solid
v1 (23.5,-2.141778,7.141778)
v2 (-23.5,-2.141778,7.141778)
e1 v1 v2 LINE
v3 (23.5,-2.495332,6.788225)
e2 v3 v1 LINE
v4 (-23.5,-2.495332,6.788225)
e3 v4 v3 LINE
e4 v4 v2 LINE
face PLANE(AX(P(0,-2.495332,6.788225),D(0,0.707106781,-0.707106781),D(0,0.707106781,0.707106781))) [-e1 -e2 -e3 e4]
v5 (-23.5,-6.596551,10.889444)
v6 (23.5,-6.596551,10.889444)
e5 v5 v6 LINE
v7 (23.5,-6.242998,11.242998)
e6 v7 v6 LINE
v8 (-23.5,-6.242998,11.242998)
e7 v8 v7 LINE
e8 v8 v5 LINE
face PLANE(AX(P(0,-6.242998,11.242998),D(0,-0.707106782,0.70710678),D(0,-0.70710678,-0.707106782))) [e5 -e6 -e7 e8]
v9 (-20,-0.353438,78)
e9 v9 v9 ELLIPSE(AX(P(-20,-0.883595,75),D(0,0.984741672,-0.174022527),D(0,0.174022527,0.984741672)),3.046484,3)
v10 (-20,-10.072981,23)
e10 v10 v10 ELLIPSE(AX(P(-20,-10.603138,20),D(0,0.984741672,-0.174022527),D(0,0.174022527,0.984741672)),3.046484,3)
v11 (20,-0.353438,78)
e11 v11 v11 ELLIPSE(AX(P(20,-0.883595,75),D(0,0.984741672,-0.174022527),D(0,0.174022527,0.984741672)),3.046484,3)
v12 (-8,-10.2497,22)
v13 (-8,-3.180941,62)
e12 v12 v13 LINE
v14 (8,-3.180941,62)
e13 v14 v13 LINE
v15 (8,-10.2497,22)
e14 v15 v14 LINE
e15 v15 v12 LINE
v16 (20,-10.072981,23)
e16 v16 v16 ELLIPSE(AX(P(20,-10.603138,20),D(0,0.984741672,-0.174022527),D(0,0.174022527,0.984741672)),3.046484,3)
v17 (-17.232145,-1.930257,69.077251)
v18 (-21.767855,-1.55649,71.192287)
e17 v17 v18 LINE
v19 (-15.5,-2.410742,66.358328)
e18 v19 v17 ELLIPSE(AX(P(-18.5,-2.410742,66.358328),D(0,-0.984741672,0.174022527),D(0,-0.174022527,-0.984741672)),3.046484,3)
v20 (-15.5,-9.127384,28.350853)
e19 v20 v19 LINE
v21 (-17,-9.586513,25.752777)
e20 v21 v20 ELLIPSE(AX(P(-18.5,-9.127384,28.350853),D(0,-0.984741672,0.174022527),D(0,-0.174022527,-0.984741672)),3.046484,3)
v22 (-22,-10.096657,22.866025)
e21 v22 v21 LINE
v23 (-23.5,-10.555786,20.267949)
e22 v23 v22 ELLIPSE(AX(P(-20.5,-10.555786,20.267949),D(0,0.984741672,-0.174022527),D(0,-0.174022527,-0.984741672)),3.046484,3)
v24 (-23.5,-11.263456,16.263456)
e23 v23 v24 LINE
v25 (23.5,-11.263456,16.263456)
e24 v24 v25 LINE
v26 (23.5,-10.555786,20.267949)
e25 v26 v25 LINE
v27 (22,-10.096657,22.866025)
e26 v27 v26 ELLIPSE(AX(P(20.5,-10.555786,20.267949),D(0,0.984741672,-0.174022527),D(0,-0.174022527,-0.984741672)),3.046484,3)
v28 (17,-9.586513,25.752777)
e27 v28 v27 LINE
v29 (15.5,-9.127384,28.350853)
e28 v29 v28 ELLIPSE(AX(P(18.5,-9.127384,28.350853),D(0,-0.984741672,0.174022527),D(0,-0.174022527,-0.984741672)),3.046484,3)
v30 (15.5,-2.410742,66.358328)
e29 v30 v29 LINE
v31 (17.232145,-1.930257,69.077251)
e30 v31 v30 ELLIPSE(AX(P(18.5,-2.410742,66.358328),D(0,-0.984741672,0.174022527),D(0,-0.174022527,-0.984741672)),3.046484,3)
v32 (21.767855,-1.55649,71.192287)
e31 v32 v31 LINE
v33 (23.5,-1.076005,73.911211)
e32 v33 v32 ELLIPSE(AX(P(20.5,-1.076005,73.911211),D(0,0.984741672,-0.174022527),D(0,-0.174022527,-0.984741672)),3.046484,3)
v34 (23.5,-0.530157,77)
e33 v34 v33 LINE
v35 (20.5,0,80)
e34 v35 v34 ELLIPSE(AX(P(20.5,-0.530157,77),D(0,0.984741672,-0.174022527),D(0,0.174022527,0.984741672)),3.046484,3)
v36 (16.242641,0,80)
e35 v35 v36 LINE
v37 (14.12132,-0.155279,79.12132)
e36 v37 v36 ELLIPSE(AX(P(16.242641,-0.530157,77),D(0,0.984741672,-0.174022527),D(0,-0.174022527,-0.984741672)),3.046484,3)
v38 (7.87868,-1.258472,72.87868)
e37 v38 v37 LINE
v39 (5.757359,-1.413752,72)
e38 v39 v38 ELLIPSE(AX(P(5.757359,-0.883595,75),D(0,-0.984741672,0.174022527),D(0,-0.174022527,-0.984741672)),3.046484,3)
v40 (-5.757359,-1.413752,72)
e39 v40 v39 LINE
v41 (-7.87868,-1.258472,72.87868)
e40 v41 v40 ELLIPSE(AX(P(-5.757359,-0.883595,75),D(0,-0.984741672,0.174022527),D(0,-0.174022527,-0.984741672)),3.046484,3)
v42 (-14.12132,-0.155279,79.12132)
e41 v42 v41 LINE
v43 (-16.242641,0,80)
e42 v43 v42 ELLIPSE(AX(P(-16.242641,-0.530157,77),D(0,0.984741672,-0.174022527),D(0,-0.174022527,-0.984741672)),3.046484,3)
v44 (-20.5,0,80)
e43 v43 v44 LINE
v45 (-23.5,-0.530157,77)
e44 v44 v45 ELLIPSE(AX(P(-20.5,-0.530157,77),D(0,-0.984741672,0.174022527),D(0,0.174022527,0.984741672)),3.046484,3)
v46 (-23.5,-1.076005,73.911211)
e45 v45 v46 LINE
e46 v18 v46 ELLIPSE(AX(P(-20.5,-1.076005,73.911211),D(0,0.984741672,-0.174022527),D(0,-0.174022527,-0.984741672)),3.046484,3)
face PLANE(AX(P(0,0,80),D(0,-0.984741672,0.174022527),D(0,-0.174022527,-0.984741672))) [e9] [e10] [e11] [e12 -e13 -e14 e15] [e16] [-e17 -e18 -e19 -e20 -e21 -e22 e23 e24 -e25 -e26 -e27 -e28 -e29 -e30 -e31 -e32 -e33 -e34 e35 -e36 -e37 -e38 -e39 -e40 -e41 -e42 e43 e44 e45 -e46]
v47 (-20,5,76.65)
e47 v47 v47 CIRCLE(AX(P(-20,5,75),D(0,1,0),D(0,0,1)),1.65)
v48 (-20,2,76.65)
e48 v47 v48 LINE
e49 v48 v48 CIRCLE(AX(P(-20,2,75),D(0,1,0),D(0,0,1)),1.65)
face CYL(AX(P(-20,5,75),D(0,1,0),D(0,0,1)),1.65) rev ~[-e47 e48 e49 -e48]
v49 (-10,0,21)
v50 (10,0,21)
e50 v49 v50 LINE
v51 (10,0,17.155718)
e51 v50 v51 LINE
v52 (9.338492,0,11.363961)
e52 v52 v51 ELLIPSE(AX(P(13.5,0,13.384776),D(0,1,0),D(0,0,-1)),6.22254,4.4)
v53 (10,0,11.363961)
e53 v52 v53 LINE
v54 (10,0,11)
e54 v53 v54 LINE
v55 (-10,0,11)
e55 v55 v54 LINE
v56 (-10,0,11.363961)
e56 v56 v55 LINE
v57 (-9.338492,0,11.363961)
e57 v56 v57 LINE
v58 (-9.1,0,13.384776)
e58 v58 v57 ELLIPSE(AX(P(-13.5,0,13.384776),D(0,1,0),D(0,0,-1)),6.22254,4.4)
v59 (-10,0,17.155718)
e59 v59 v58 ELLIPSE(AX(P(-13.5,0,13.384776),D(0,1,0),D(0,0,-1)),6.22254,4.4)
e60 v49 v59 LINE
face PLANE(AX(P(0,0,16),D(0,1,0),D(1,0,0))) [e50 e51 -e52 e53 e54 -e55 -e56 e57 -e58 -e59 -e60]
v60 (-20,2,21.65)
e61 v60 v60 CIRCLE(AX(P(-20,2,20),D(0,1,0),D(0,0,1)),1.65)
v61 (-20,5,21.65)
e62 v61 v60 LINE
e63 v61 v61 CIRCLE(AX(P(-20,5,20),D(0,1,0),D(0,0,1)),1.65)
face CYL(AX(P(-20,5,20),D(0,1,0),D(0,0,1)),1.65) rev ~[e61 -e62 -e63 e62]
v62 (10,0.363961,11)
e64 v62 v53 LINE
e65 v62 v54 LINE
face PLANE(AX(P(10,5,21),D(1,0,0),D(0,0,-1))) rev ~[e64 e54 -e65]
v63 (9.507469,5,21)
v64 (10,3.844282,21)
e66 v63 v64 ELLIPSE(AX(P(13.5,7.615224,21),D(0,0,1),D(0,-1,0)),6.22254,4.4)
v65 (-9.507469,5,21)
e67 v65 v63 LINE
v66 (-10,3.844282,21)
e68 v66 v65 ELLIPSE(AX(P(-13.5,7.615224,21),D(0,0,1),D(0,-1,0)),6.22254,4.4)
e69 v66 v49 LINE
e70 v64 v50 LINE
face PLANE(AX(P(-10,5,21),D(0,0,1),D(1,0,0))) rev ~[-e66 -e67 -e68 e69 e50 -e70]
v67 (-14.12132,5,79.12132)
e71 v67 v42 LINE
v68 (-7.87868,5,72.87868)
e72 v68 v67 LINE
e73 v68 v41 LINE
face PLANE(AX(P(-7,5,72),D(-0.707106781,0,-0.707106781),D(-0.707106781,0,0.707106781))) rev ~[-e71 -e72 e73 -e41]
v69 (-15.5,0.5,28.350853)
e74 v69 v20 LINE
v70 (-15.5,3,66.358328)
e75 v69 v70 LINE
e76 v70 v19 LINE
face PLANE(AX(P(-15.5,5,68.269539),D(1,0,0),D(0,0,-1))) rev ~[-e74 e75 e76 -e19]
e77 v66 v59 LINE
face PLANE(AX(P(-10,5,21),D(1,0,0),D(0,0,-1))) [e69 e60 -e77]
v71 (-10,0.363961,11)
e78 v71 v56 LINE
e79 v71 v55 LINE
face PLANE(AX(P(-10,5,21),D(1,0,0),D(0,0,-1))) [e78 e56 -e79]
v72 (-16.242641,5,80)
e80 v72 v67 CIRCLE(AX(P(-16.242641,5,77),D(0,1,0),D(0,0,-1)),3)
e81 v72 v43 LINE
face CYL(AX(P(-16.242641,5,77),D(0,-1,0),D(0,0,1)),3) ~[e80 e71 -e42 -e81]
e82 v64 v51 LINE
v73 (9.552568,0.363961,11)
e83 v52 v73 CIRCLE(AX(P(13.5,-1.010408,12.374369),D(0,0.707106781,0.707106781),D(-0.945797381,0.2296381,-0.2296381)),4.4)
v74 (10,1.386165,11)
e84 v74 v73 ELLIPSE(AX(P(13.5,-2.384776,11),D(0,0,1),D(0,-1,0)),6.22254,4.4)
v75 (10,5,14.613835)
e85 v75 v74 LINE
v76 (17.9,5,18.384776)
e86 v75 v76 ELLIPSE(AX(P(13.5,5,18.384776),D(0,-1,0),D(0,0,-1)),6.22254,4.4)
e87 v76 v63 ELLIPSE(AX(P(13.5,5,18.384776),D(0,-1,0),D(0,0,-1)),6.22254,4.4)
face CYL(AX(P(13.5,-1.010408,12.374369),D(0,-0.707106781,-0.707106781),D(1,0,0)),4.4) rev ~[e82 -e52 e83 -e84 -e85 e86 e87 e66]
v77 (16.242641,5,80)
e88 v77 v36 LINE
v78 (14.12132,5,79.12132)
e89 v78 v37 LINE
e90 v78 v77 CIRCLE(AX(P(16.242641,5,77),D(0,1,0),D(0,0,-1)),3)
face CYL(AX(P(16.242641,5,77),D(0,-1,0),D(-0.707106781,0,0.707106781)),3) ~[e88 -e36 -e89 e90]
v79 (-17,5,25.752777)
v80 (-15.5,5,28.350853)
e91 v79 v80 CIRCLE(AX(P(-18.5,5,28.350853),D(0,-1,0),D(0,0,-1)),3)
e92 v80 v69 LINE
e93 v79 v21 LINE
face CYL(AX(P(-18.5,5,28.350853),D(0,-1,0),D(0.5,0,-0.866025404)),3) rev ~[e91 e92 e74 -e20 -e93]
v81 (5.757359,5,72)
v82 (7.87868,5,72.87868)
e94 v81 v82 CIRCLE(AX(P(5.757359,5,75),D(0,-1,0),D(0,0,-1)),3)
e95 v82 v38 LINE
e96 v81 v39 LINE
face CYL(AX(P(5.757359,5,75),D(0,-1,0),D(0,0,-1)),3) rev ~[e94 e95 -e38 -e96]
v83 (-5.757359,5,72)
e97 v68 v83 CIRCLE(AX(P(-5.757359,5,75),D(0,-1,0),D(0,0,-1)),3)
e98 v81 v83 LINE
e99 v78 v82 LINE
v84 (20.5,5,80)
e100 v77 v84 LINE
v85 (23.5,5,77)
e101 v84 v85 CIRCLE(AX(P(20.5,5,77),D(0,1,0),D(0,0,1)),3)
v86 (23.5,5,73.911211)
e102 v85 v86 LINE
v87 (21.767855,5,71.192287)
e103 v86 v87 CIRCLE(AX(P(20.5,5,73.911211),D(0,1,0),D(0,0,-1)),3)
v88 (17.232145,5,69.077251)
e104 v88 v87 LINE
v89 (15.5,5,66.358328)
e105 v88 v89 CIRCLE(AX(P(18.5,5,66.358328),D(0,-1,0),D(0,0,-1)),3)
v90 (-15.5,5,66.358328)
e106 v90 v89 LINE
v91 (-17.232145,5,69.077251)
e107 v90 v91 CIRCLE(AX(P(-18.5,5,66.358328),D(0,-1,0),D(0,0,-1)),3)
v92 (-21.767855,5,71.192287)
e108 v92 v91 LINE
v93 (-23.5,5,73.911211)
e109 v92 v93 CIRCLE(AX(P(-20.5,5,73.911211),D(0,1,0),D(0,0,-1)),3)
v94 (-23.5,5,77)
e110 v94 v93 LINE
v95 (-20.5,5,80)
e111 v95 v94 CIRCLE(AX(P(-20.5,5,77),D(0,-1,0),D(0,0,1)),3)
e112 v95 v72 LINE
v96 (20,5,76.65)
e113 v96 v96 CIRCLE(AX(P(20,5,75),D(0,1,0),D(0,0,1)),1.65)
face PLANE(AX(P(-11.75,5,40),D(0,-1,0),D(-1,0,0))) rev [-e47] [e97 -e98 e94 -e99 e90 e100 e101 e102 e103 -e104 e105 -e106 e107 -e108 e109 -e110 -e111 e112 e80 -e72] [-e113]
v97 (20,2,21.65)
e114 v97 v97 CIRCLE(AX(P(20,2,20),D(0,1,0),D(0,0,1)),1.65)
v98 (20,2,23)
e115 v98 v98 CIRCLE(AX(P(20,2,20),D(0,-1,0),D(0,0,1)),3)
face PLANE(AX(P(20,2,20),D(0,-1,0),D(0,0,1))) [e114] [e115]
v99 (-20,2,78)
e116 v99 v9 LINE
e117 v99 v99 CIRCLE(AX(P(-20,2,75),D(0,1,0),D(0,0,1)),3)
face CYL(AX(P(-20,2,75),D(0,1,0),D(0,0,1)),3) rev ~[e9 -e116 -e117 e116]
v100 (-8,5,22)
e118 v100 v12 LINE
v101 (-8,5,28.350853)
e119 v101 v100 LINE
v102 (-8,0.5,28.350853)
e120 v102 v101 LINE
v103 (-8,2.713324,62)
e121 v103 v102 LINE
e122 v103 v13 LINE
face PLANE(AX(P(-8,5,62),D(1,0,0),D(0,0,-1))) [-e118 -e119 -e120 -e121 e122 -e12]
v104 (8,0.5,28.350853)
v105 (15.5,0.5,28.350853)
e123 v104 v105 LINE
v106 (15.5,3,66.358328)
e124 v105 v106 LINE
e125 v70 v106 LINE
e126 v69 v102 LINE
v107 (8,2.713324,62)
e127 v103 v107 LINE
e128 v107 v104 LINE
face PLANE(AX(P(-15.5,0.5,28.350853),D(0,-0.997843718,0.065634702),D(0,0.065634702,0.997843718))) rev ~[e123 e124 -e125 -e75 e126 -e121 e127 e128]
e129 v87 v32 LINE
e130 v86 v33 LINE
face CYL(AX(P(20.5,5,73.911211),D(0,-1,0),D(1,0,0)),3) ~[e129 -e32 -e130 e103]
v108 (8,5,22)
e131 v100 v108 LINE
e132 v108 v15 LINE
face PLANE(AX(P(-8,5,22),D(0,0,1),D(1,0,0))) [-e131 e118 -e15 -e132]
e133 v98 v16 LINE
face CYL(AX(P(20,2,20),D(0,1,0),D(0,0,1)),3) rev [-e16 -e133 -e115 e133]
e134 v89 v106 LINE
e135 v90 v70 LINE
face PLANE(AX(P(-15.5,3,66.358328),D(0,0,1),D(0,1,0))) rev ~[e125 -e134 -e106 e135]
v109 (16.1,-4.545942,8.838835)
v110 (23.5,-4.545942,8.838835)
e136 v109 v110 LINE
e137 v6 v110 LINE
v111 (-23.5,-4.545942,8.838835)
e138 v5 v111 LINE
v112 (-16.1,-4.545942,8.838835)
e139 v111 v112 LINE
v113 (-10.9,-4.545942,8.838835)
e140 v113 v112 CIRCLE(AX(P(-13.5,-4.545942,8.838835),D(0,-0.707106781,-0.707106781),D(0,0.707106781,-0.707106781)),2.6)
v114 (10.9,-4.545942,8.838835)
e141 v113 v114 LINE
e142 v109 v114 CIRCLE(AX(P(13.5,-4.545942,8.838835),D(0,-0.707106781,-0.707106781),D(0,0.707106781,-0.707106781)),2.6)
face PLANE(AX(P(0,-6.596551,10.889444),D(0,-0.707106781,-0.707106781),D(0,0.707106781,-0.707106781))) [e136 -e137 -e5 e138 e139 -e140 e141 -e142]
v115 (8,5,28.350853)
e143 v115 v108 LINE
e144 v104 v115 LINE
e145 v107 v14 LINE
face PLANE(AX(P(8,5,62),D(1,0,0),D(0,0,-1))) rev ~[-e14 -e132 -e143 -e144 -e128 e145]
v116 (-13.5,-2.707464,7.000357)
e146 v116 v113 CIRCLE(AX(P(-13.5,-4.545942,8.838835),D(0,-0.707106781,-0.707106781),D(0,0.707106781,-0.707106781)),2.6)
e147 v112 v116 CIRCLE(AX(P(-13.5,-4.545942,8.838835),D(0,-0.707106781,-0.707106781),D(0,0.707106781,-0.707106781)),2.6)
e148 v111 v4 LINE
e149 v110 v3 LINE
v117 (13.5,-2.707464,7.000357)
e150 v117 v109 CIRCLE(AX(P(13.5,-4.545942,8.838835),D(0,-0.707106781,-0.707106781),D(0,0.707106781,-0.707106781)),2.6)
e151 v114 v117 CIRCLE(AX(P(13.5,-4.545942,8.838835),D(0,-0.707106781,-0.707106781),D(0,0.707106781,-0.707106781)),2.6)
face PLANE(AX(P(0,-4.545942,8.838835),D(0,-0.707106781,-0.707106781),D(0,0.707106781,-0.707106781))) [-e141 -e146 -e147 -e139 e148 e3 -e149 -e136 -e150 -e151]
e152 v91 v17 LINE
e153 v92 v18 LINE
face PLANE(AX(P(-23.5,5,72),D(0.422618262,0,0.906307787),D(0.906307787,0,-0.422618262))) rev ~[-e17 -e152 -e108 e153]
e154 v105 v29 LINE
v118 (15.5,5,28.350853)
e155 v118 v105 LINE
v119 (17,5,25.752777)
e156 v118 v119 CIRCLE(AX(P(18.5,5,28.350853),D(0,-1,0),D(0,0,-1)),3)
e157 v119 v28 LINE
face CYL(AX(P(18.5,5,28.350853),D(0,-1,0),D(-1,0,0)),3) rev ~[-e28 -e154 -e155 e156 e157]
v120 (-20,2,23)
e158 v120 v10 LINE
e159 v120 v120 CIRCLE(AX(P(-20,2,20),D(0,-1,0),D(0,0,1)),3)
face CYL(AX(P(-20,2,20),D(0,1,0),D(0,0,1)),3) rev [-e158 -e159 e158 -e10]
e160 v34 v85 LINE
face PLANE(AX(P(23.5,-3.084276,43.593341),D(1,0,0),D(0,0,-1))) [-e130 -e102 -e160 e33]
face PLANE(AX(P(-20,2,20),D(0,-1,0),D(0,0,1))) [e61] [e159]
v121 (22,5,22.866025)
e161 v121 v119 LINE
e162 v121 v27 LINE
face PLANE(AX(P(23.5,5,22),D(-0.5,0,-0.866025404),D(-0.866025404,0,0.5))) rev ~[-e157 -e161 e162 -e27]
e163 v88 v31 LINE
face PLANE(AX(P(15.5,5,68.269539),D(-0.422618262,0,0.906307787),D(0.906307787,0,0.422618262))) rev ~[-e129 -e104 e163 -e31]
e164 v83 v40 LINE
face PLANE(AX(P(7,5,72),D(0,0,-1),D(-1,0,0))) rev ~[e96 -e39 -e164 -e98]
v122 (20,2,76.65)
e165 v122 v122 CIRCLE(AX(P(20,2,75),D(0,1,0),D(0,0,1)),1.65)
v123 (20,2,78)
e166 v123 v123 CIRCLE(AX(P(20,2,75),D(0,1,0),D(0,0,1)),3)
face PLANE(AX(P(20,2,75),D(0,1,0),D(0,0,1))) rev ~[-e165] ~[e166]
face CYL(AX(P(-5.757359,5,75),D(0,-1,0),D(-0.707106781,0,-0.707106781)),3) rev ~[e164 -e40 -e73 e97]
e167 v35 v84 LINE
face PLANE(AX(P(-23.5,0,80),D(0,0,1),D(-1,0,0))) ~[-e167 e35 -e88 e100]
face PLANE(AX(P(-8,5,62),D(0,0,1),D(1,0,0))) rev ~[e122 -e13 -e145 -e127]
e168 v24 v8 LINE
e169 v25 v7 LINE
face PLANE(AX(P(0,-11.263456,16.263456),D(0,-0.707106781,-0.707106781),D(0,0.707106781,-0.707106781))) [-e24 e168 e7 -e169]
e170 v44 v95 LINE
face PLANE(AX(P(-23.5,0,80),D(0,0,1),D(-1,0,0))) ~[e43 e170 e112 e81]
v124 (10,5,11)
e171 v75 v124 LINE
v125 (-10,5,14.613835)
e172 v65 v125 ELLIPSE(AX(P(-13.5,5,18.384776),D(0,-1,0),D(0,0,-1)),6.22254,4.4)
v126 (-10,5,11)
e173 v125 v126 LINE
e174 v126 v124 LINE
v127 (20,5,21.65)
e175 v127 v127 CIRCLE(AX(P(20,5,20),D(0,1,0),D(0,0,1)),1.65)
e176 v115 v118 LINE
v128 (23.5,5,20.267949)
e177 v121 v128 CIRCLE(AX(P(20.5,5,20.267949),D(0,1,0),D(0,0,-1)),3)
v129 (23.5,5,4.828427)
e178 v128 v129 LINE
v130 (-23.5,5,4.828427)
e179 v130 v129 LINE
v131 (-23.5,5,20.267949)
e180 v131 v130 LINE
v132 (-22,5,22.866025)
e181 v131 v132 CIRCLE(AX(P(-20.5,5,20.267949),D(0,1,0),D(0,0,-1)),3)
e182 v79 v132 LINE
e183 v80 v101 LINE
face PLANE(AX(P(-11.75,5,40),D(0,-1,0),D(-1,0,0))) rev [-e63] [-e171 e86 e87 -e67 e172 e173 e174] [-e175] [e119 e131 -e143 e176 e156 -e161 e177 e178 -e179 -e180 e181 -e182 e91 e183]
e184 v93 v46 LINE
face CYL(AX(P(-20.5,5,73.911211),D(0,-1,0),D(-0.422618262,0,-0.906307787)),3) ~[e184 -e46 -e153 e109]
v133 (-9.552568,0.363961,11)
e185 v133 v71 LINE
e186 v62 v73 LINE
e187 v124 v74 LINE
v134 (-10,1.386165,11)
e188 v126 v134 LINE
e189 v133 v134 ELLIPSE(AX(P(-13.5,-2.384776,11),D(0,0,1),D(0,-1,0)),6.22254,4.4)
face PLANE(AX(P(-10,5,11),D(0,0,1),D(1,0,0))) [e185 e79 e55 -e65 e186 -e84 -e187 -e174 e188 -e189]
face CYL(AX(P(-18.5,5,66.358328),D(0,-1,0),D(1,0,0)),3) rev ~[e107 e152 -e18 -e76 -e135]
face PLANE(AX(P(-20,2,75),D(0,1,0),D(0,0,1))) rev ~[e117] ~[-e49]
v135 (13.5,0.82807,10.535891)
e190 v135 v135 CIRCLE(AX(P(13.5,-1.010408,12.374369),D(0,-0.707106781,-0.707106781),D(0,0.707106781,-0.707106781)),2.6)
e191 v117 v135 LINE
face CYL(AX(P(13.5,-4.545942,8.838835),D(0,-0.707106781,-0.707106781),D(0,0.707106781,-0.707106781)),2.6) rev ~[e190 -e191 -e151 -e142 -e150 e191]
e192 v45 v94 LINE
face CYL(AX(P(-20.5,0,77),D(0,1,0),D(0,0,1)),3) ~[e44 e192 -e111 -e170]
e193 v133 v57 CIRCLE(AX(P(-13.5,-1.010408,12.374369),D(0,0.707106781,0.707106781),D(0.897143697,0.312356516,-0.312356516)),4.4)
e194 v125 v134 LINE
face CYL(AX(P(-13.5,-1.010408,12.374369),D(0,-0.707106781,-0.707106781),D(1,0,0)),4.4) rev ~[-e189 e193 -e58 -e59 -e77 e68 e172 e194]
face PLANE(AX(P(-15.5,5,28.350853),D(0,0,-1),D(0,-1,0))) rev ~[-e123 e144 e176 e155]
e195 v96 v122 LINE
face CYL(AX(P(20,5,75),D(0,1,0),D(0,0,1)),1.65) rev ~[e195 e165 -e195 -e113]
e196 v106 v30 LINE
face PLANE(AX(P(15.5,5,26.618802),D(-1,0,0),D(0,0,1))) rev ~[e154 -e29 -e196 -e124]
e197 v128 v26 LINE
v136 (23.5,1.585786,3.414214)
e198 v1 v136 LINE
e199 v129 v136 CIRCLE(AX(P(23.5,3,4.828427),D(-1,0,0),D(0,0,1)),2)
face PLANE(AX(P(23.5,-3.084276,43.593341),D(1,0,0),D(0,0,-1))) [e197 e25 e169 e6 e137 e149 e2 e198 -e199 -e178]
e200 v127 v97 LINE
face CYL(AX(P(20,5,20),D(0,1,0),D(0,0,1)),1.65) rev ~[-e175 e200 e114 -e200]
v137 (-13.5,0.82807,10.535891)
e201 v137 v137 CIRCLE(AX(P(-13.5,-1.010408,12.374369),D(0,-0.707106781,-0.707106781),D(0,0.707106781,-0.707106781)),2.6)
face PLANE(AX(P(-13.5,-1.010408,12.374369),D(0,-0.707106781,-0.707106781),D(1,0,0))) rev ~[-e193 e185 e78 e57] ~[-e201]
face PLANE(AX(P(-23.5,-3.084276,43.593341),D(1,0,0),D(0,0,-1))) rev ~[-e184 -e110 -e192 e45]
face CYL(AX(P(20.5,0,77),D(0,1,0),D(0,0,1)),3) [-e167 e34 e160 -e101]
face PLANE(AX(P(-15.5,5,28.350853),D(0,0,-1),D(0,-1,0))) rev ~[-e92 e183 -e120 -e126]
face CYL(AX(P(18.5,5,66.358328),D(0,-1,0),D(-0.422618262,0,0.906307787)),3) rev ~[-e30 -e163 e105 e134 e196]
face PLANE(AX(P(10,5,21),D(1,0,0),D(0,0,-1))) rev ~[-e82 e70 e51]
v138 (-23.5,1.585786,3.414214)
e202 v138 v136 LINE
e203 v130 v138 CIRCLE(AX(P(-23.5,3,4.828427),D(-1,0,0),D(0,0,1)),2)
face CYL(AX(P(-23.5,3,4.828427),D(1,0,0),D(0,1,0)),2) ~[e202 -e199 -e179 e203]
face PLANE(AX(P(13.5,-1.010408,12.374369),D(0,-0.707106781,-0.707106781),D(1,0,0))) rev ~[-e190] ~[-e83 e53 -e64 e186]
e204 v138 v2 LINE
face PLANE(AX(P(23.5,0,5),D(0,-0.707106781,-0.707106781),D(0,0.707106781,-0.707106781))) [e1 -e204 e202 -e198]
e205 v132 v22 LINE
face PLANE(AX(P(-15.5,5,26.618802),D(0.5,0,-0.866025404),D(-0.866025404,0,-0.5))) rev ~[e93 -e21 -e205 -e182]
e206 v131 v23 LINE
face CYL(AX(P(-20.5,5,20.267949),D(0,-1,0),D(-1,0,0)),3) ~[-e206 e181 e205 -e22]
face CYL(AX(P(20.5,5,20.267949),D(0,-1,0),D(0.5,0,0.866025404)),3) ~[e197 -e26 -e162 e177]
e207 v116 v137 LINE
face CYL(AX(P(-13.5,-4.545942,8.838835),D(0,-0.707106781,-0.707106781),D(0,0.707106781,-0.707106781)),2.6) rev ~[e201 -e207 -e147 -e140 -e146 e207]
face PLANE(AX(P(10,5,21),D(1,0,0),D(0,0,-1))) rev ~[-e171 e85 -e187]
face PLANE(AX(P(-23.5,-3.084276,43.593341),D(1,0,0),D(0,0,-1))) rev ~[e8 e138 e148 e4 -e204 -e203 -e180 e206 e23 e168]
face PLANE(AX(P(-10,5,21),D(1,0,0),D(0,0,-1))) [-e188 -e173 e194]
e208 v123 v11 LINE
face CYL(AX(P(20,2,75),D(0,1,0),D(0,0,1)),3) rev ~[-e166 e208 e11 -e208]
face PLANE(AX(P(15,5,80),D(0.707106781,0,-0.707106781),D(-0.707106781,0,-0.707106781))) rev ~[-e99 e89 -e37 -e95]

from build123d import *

# Parameters (mm, degrees)
EXTRUDE_2_DEPTH      = 5
EXTRUDE_3_DEPTH      = 23.5
SKETCH_3_R           = 1.65
CUT_EXTRUDE_1_DEPTH  = 85.951456727
CUT_EXTRUDE_5_REACH  = 89.951
CUT_EXTRUDE_START    = 3
SKETCH_8_R           = 3
CUT_EXTRUDE_10_REACH = 89.951
CUT_EXTRUDE_START_2  = -3
SKETCH_12_R          = 3
SKETCH_4_W           = 20
SKETCH_4_H           = 10
CUT_EXTRUDE_2_DEPTH  = 5
SKETCH_10_W          = 16
SKETCH_10_H          = 40
CUT_EXTRUDE_11_DEPTH = 85.951456727
FILLET_1_R           = 3
CUT_EXTRUDE_6_DEPTH  = 94.465851734
SKETCH_6_R           = 2.6
CUT_EXTRUDE_3_DEPTH  = 83.421182124
CUT_EXTRUDE_4_REACH  = 89.421
CUT_EXTRUDE_START_3  = -5
SKETCH_7_R           = 4.4
FILLET_3_R           = 2
CUT_EXTRUDE_13_DEPTH = 90.709896


with BuildPart() as part:
    # 草图2 → 凸台-拉伸2 (new body)
    with BuildSketch(Plane(origin=(0, 0, 0), x_dir=(1, 0, 0), z_dir=(0, 1, 0))):
        Polygon((0, 0), (23.5, 0), (23.5, -19), (23.5, -80), (0, -80), align=None)
    extrude_2 = extrude(amount=EXTRUDE_2_DEPTH)

    # 镜向1: 凸台-拉伸2 across plane
    add(extrude_2.mirror(Plane(origin=(0, 5, 80), x_dir=(0, 0, 1), z_dir=(1, 0, 0))))

    # 草图5 → 凸台-拉伸3 (add, symmetric)
    with BuildSketch(Plane(origin=(0, 0, 0), x_dir=(0, 0, -1), z_dir=(1, 0, 0))):
        Polygon((-80, 0), (-16.263455967, -11.263455967), (-11.242997821, -6.242997821), (-9.192388155, -4.192388155), (-13.384776311, 0), align=None)
        Polygon((-13.384776311, 0), (-9.192388155, -4.192388155), (-7.14177849, -2.14177849), (-5, 0), align=None)
        Polygon((-7.14177849, -2.14177849), (-9.192388155, -4.192388155), (-8.838834765, -4.545941546), (-6.788225099, -2.495331881), align=None)
        Polygon((-9.192388155, -4.192388155), (-11.242997821, -6.242997821), (-10.88944443, -6.596551211), (-8.838834765, -4.545941546), align=None)
    extrude(amount=EXTRUDE_3_DEPTH, both=True)

    # 草图3 → 切除-拉伸1 (cut, through all)
    with BuildSketch(Plane(origin=(0, 5, 0), x_dir=(1, 0, 0), z_dir=(0, 1, 0))):
        with Locations(Location((-20, -20, 0), (0, 0, 270))):
            Circle(SKETCH_3_R)
        with Locations(Location((20, -20, 0), (0, 0, 270))):
            Circle(SKETCH_3_R)
        with Locations(Location((-20, -75, 0), (0, 0, 270))):
            Circle(SKETCH_3_R)
        with Locations(Location((20, -75, 0), (0, 0, 270))):
            Circle(SKETCH_3_R)
    extrude(amount=-CUT_EXTRUDE_1_DEPTH, mode=Mode.SUBTRACT)

    # 切除-拉伸5: up to this plane
    cut_extrude_5_end = Plane(origin=(23.5, -13.709378738, 2.422707194), z_dir=(0, 0.9847416717466503, -0.174022527063632))
    # 草图8 → 切除-拉伸5 (cut, up to the surface)
    with BuildSketch(Plane.XZ.offset(-5).offset(CUT_EXTRUDE_START), mode=Mode.PRIVATE) as cut_extrude_5_sk1:
        with Locations(Location((-20, 20, 0), (0, 0, 90))):
            Circle(SKETCH_8_R)
    cut_extrude_5_tool1 = split(extrude(cut_extrude_5_sk1.sketch, amount=CUT_EXTRUDE_5_REACH, mode=Mode.PRIVATE), bisect_by=cut_extrude_5_end, keep=Keep.BOTH, mode=Mode.PRIVATE)
    add(cut_extrude_5_tool1.solids().sort_by_distance((-20, 2, 20))[0], mode=Mode.SUBTRACT)
    # 草图8 → 切除-拉伸5 (cut, up to the surface)
    with BuildSketch(Plane.XZ.offset(-5).offset(CUT_EXTRUDE_START), mode=Mode.PRIVATE) as cut_extrude_5_sk2:
        with Locations(Location((20, 20, 0), (0, 0, 90))):
            Circle(SKETCH_8_R)
    cut_extrude_5_tool2 = split(extrude(cut_extrude_5_sk2.sketch, amount=CUT_EXTRUDE_5_REACH, mode=Mode.PRIVATE), bisect_by=cut_extrude_5_end, keep=Keep.BOTH, mode=Mode.PRIVATE)
    add(cut_extrude_5_tool2.solids().sort_by_distance((20, 2, 20))[0], mode=Mode.SUBTRACT)

    # 切除-拉伸10: up to this plane
    cut_extrude_10_end = Plane(origin=(23.5, -13.709378738, 2.422707194), z_dir=(0, 0.9847416717466503, -0.174022527063632))
    # 草图12 → 切除-拉伸10 (cut, up to the surface)
    with BuildSketch(Plane(origin=(0, 5, 0), x_dir=(1, 0, 0), z_dir=(0, 1, 0)).offset(CUT_EXTRUDE_START_2), mode=Mode.PRIVATE) as cut_extrude_10_sk1:
        with Locations(Location((-20, -75, 0), (0, 0, 270))):
            Circle(SKETCH_12_R)
    cut_extrude_10_tool1 = split(extrude(cut_extrude_10_sk1.sketch, amount=-CUT_EXTRUDE_10_REACH, mode=Mode.PRIVATE), bisect_by=cut_extrude_10_end, keep=Keep.BOTH, mode=Mode.PRIVATE)
    add(cut_extrude_10_tool1.solids().sort_by_distance((-20, 2, 75))[0], mode=Mode.SUBTRACT)
    # 草图12 → 切除-拉伸10 (cut, up to the surface)
    with BuildSketch(Plane(origin=(0, 5, 0), x_dir=(1, 0, 0), z_dir=(0, 1, 0)).offset(CUT_EXTRUDE_START_2), mode=Mode.PRIVATE) as cut_extrude_10_sk2:
        with Locations(Location((20, -75, 0), (0, 0, 270))):
            Circle(SKETCH_12_R)
    cut_extrude_10_tool2 = split(extrude(cut_extrude_10_sk2.sketch, amount=-CUT_EXTRUDE_10_REACH, mode=Mode.PRIVATE), bisect_by=cut_extrude_10_end, keep=Keep.BOTH, mode=Mode.PRIVATE)
    add(cut_extrude_10_tool2.solids().sort_by_distance((20, 2, 75))[0], mode=Mode.SUBTRACT)

    # 草图4 → 切除-拉伸2 (cut)
    with BuildSketch(Plane(origin=(0, 5, 0), x_dir=(1, 0, 0), z_dir=(0, 1, 0))):
        with Locations((0, -16)):
            Rectangle(SKETCH_4_W, SKETCH_4_H)
    extrude(amount=-CUT_EXTRUDE_2_DEPTH, mode=Mode.SUBTRACT)

    # 草图10 → 切除-拉伸11 (cut, through all)
    with BuildSketch(Plane(origin=(0, 5, 0), x_dir=(1, 0, 0), z_dir=(0, 1, 0))):
        with Locations((0, -42)):
            Rectangle(SKETCH_10_W, SKETCH_10_H)
        Polygon((-7, -72), (-15, -80), (15, -80), (7, -72), align=None)
        Polygon((23.5, -22), (15.5, -26.618802154), (15.5, -68.269538735), (23.5, -72), align=None)
        Polygon((-15.5, -26.618802154), (-23.5, -22), (-23.5, -72), (-15.5, -68.269538735), align=None)
    extrude(amount=-CUT_EXTRUDE_11_DEPTH, mode=Mode.SUBTRACT)

    # 圆角1
    fillet_1_edges = [part.edges().sort_by_distance(p)[0] for p in [
        (-23.5, -2.624849927, 22),
        (-23.5, 1.793124148, 72),
        (23.5, 1.793124148, 72),
        (23.5, -2.624849927, 22),
        (15, 2.5, 80),
        (-15, 2.5, 80),
        (-15.5, -2.216734964, 26.618802154),
        (-15.5, 1.463502525, 68.269538735),
        (15.5, 1.463502525, 68.269538735),
        (15.5, -2.216734964, 26.618802154),
        (-7, 1.793124148, 72),
        (7, 1.793124148, 72),
        (-23.5, 2.5, 80),
        (23.5, 2.5, 80),
    ]]
    fillet(fillet_1_edges, radius=FILLET_1_R)

    # 草图9 → 切除-拉伸6 (cut, through all)
    with BuildSketch(Plane(origin=(23.5, 0, 0), x_dir=(0, 0, -1), z_dir=(1, 0, 0))):
        Polygon((-5, 0), (0, 5), (0, 0), align=None)
    extrude(amount=-CUT_EXTRUDE_6_DEPTH, mode=Mode.SUBTRACT)

    # 草图6 → 切除-拉伸3 (cut, through all)
    with BuildSketch(Plane(origin=(0, 2.146446609, 2.146446609), x_dir=(1, 0, 0), z_dir=(0, -0.7071067811865459, -0.7071067811865491))):
        with Locations(Location((-13.5, 9.464466094, 0), (0, 0, 270))):
            Circle(SKETCH_6_R)
        with Locations(Location((13.5, 9.464466094, 0), (0, 0, 270))):
            Circle(SKETCH_6_R)
    extrude(amount=-CUT_EXTRUDE_3_DEPTH, mode=Mode.SUBTRACT)

    # 草图7 → 切除-拉伸4 (cut, up to next)
    with BuildSketch(Plane(origin=(0, 2.146446609, 2.146446609), x_dir=(1, 0, 0), z_dir=(0, -0.7071067811865459, -0.7071067811865491)).offset(CUT_EXTRUDE_START_3), mode=Mode.PRIVATE) as cut_extrude_4_sk1:
        with Locations((-13.5, 9.464466094)):
            Circle(SKETCH_7_R)
    cut_extrude_4_tool1 = extrude(cut_extrude_4_sk1.sketch, amount=-CUT_EXTRUDE_4_REACH, mode=Mode.PRIVATE) & part.part
    # 草图7 → 切除-拉伸4 (cut, up to next)
    with BuildSketch(Plane(origin=(0, 2.146446609, 2.146446609), x_dir=(1, 0, 0), z_dir=(0, -0.7071067811865459, -0.7071067811865491)).offset(CUT_EXTRUDE_START_3), mode=Mode.PRIVATE) as cut_extrude_4_sk2:
        with Locations((13.5, 9.464466094)):
            Circle(SKETCH_7_R)
    cut_extrude_4_tool2 = extrude(cut_extrude_4_sk2.sketch, amount=-CUT_EXTRUDE_4_REACH, mode=Mode.PRIVATE) & part.part
    add(cut_extrude_4_tool1.solids().sort_by_distance((-13.5, -1.010408, 12.374369))[0], mode=Mode.SUBTRACT)
    add(cut_extrude_4_tool2.solids().sort_by_distance((13.5, -1.010408, 12.374369))[0], mode=Mode.SUBTRACT)

    # 圆角3
    fillet_3_edges = [part.edges().sort_by_distance(p)[0] for p in [
        (0, 5, 0),
    ]]
    fillet(fillet_3_edges, radius=FILLET_3_R)

    # 草图14 → 切除-拉伸13 (cut, through all)
    with BuildSketch(Plane.ZY.offset(15.5)):
        Polygon((28.350852961, 5), (28.350852961, 0.5), (66.358327952, 3), (66.358327952, 5), align=None)
    extrude(amount=-CUT_EXTRUDE_13_DEPTH, mode=Mode.SUBTRACT)


solid = part.part
